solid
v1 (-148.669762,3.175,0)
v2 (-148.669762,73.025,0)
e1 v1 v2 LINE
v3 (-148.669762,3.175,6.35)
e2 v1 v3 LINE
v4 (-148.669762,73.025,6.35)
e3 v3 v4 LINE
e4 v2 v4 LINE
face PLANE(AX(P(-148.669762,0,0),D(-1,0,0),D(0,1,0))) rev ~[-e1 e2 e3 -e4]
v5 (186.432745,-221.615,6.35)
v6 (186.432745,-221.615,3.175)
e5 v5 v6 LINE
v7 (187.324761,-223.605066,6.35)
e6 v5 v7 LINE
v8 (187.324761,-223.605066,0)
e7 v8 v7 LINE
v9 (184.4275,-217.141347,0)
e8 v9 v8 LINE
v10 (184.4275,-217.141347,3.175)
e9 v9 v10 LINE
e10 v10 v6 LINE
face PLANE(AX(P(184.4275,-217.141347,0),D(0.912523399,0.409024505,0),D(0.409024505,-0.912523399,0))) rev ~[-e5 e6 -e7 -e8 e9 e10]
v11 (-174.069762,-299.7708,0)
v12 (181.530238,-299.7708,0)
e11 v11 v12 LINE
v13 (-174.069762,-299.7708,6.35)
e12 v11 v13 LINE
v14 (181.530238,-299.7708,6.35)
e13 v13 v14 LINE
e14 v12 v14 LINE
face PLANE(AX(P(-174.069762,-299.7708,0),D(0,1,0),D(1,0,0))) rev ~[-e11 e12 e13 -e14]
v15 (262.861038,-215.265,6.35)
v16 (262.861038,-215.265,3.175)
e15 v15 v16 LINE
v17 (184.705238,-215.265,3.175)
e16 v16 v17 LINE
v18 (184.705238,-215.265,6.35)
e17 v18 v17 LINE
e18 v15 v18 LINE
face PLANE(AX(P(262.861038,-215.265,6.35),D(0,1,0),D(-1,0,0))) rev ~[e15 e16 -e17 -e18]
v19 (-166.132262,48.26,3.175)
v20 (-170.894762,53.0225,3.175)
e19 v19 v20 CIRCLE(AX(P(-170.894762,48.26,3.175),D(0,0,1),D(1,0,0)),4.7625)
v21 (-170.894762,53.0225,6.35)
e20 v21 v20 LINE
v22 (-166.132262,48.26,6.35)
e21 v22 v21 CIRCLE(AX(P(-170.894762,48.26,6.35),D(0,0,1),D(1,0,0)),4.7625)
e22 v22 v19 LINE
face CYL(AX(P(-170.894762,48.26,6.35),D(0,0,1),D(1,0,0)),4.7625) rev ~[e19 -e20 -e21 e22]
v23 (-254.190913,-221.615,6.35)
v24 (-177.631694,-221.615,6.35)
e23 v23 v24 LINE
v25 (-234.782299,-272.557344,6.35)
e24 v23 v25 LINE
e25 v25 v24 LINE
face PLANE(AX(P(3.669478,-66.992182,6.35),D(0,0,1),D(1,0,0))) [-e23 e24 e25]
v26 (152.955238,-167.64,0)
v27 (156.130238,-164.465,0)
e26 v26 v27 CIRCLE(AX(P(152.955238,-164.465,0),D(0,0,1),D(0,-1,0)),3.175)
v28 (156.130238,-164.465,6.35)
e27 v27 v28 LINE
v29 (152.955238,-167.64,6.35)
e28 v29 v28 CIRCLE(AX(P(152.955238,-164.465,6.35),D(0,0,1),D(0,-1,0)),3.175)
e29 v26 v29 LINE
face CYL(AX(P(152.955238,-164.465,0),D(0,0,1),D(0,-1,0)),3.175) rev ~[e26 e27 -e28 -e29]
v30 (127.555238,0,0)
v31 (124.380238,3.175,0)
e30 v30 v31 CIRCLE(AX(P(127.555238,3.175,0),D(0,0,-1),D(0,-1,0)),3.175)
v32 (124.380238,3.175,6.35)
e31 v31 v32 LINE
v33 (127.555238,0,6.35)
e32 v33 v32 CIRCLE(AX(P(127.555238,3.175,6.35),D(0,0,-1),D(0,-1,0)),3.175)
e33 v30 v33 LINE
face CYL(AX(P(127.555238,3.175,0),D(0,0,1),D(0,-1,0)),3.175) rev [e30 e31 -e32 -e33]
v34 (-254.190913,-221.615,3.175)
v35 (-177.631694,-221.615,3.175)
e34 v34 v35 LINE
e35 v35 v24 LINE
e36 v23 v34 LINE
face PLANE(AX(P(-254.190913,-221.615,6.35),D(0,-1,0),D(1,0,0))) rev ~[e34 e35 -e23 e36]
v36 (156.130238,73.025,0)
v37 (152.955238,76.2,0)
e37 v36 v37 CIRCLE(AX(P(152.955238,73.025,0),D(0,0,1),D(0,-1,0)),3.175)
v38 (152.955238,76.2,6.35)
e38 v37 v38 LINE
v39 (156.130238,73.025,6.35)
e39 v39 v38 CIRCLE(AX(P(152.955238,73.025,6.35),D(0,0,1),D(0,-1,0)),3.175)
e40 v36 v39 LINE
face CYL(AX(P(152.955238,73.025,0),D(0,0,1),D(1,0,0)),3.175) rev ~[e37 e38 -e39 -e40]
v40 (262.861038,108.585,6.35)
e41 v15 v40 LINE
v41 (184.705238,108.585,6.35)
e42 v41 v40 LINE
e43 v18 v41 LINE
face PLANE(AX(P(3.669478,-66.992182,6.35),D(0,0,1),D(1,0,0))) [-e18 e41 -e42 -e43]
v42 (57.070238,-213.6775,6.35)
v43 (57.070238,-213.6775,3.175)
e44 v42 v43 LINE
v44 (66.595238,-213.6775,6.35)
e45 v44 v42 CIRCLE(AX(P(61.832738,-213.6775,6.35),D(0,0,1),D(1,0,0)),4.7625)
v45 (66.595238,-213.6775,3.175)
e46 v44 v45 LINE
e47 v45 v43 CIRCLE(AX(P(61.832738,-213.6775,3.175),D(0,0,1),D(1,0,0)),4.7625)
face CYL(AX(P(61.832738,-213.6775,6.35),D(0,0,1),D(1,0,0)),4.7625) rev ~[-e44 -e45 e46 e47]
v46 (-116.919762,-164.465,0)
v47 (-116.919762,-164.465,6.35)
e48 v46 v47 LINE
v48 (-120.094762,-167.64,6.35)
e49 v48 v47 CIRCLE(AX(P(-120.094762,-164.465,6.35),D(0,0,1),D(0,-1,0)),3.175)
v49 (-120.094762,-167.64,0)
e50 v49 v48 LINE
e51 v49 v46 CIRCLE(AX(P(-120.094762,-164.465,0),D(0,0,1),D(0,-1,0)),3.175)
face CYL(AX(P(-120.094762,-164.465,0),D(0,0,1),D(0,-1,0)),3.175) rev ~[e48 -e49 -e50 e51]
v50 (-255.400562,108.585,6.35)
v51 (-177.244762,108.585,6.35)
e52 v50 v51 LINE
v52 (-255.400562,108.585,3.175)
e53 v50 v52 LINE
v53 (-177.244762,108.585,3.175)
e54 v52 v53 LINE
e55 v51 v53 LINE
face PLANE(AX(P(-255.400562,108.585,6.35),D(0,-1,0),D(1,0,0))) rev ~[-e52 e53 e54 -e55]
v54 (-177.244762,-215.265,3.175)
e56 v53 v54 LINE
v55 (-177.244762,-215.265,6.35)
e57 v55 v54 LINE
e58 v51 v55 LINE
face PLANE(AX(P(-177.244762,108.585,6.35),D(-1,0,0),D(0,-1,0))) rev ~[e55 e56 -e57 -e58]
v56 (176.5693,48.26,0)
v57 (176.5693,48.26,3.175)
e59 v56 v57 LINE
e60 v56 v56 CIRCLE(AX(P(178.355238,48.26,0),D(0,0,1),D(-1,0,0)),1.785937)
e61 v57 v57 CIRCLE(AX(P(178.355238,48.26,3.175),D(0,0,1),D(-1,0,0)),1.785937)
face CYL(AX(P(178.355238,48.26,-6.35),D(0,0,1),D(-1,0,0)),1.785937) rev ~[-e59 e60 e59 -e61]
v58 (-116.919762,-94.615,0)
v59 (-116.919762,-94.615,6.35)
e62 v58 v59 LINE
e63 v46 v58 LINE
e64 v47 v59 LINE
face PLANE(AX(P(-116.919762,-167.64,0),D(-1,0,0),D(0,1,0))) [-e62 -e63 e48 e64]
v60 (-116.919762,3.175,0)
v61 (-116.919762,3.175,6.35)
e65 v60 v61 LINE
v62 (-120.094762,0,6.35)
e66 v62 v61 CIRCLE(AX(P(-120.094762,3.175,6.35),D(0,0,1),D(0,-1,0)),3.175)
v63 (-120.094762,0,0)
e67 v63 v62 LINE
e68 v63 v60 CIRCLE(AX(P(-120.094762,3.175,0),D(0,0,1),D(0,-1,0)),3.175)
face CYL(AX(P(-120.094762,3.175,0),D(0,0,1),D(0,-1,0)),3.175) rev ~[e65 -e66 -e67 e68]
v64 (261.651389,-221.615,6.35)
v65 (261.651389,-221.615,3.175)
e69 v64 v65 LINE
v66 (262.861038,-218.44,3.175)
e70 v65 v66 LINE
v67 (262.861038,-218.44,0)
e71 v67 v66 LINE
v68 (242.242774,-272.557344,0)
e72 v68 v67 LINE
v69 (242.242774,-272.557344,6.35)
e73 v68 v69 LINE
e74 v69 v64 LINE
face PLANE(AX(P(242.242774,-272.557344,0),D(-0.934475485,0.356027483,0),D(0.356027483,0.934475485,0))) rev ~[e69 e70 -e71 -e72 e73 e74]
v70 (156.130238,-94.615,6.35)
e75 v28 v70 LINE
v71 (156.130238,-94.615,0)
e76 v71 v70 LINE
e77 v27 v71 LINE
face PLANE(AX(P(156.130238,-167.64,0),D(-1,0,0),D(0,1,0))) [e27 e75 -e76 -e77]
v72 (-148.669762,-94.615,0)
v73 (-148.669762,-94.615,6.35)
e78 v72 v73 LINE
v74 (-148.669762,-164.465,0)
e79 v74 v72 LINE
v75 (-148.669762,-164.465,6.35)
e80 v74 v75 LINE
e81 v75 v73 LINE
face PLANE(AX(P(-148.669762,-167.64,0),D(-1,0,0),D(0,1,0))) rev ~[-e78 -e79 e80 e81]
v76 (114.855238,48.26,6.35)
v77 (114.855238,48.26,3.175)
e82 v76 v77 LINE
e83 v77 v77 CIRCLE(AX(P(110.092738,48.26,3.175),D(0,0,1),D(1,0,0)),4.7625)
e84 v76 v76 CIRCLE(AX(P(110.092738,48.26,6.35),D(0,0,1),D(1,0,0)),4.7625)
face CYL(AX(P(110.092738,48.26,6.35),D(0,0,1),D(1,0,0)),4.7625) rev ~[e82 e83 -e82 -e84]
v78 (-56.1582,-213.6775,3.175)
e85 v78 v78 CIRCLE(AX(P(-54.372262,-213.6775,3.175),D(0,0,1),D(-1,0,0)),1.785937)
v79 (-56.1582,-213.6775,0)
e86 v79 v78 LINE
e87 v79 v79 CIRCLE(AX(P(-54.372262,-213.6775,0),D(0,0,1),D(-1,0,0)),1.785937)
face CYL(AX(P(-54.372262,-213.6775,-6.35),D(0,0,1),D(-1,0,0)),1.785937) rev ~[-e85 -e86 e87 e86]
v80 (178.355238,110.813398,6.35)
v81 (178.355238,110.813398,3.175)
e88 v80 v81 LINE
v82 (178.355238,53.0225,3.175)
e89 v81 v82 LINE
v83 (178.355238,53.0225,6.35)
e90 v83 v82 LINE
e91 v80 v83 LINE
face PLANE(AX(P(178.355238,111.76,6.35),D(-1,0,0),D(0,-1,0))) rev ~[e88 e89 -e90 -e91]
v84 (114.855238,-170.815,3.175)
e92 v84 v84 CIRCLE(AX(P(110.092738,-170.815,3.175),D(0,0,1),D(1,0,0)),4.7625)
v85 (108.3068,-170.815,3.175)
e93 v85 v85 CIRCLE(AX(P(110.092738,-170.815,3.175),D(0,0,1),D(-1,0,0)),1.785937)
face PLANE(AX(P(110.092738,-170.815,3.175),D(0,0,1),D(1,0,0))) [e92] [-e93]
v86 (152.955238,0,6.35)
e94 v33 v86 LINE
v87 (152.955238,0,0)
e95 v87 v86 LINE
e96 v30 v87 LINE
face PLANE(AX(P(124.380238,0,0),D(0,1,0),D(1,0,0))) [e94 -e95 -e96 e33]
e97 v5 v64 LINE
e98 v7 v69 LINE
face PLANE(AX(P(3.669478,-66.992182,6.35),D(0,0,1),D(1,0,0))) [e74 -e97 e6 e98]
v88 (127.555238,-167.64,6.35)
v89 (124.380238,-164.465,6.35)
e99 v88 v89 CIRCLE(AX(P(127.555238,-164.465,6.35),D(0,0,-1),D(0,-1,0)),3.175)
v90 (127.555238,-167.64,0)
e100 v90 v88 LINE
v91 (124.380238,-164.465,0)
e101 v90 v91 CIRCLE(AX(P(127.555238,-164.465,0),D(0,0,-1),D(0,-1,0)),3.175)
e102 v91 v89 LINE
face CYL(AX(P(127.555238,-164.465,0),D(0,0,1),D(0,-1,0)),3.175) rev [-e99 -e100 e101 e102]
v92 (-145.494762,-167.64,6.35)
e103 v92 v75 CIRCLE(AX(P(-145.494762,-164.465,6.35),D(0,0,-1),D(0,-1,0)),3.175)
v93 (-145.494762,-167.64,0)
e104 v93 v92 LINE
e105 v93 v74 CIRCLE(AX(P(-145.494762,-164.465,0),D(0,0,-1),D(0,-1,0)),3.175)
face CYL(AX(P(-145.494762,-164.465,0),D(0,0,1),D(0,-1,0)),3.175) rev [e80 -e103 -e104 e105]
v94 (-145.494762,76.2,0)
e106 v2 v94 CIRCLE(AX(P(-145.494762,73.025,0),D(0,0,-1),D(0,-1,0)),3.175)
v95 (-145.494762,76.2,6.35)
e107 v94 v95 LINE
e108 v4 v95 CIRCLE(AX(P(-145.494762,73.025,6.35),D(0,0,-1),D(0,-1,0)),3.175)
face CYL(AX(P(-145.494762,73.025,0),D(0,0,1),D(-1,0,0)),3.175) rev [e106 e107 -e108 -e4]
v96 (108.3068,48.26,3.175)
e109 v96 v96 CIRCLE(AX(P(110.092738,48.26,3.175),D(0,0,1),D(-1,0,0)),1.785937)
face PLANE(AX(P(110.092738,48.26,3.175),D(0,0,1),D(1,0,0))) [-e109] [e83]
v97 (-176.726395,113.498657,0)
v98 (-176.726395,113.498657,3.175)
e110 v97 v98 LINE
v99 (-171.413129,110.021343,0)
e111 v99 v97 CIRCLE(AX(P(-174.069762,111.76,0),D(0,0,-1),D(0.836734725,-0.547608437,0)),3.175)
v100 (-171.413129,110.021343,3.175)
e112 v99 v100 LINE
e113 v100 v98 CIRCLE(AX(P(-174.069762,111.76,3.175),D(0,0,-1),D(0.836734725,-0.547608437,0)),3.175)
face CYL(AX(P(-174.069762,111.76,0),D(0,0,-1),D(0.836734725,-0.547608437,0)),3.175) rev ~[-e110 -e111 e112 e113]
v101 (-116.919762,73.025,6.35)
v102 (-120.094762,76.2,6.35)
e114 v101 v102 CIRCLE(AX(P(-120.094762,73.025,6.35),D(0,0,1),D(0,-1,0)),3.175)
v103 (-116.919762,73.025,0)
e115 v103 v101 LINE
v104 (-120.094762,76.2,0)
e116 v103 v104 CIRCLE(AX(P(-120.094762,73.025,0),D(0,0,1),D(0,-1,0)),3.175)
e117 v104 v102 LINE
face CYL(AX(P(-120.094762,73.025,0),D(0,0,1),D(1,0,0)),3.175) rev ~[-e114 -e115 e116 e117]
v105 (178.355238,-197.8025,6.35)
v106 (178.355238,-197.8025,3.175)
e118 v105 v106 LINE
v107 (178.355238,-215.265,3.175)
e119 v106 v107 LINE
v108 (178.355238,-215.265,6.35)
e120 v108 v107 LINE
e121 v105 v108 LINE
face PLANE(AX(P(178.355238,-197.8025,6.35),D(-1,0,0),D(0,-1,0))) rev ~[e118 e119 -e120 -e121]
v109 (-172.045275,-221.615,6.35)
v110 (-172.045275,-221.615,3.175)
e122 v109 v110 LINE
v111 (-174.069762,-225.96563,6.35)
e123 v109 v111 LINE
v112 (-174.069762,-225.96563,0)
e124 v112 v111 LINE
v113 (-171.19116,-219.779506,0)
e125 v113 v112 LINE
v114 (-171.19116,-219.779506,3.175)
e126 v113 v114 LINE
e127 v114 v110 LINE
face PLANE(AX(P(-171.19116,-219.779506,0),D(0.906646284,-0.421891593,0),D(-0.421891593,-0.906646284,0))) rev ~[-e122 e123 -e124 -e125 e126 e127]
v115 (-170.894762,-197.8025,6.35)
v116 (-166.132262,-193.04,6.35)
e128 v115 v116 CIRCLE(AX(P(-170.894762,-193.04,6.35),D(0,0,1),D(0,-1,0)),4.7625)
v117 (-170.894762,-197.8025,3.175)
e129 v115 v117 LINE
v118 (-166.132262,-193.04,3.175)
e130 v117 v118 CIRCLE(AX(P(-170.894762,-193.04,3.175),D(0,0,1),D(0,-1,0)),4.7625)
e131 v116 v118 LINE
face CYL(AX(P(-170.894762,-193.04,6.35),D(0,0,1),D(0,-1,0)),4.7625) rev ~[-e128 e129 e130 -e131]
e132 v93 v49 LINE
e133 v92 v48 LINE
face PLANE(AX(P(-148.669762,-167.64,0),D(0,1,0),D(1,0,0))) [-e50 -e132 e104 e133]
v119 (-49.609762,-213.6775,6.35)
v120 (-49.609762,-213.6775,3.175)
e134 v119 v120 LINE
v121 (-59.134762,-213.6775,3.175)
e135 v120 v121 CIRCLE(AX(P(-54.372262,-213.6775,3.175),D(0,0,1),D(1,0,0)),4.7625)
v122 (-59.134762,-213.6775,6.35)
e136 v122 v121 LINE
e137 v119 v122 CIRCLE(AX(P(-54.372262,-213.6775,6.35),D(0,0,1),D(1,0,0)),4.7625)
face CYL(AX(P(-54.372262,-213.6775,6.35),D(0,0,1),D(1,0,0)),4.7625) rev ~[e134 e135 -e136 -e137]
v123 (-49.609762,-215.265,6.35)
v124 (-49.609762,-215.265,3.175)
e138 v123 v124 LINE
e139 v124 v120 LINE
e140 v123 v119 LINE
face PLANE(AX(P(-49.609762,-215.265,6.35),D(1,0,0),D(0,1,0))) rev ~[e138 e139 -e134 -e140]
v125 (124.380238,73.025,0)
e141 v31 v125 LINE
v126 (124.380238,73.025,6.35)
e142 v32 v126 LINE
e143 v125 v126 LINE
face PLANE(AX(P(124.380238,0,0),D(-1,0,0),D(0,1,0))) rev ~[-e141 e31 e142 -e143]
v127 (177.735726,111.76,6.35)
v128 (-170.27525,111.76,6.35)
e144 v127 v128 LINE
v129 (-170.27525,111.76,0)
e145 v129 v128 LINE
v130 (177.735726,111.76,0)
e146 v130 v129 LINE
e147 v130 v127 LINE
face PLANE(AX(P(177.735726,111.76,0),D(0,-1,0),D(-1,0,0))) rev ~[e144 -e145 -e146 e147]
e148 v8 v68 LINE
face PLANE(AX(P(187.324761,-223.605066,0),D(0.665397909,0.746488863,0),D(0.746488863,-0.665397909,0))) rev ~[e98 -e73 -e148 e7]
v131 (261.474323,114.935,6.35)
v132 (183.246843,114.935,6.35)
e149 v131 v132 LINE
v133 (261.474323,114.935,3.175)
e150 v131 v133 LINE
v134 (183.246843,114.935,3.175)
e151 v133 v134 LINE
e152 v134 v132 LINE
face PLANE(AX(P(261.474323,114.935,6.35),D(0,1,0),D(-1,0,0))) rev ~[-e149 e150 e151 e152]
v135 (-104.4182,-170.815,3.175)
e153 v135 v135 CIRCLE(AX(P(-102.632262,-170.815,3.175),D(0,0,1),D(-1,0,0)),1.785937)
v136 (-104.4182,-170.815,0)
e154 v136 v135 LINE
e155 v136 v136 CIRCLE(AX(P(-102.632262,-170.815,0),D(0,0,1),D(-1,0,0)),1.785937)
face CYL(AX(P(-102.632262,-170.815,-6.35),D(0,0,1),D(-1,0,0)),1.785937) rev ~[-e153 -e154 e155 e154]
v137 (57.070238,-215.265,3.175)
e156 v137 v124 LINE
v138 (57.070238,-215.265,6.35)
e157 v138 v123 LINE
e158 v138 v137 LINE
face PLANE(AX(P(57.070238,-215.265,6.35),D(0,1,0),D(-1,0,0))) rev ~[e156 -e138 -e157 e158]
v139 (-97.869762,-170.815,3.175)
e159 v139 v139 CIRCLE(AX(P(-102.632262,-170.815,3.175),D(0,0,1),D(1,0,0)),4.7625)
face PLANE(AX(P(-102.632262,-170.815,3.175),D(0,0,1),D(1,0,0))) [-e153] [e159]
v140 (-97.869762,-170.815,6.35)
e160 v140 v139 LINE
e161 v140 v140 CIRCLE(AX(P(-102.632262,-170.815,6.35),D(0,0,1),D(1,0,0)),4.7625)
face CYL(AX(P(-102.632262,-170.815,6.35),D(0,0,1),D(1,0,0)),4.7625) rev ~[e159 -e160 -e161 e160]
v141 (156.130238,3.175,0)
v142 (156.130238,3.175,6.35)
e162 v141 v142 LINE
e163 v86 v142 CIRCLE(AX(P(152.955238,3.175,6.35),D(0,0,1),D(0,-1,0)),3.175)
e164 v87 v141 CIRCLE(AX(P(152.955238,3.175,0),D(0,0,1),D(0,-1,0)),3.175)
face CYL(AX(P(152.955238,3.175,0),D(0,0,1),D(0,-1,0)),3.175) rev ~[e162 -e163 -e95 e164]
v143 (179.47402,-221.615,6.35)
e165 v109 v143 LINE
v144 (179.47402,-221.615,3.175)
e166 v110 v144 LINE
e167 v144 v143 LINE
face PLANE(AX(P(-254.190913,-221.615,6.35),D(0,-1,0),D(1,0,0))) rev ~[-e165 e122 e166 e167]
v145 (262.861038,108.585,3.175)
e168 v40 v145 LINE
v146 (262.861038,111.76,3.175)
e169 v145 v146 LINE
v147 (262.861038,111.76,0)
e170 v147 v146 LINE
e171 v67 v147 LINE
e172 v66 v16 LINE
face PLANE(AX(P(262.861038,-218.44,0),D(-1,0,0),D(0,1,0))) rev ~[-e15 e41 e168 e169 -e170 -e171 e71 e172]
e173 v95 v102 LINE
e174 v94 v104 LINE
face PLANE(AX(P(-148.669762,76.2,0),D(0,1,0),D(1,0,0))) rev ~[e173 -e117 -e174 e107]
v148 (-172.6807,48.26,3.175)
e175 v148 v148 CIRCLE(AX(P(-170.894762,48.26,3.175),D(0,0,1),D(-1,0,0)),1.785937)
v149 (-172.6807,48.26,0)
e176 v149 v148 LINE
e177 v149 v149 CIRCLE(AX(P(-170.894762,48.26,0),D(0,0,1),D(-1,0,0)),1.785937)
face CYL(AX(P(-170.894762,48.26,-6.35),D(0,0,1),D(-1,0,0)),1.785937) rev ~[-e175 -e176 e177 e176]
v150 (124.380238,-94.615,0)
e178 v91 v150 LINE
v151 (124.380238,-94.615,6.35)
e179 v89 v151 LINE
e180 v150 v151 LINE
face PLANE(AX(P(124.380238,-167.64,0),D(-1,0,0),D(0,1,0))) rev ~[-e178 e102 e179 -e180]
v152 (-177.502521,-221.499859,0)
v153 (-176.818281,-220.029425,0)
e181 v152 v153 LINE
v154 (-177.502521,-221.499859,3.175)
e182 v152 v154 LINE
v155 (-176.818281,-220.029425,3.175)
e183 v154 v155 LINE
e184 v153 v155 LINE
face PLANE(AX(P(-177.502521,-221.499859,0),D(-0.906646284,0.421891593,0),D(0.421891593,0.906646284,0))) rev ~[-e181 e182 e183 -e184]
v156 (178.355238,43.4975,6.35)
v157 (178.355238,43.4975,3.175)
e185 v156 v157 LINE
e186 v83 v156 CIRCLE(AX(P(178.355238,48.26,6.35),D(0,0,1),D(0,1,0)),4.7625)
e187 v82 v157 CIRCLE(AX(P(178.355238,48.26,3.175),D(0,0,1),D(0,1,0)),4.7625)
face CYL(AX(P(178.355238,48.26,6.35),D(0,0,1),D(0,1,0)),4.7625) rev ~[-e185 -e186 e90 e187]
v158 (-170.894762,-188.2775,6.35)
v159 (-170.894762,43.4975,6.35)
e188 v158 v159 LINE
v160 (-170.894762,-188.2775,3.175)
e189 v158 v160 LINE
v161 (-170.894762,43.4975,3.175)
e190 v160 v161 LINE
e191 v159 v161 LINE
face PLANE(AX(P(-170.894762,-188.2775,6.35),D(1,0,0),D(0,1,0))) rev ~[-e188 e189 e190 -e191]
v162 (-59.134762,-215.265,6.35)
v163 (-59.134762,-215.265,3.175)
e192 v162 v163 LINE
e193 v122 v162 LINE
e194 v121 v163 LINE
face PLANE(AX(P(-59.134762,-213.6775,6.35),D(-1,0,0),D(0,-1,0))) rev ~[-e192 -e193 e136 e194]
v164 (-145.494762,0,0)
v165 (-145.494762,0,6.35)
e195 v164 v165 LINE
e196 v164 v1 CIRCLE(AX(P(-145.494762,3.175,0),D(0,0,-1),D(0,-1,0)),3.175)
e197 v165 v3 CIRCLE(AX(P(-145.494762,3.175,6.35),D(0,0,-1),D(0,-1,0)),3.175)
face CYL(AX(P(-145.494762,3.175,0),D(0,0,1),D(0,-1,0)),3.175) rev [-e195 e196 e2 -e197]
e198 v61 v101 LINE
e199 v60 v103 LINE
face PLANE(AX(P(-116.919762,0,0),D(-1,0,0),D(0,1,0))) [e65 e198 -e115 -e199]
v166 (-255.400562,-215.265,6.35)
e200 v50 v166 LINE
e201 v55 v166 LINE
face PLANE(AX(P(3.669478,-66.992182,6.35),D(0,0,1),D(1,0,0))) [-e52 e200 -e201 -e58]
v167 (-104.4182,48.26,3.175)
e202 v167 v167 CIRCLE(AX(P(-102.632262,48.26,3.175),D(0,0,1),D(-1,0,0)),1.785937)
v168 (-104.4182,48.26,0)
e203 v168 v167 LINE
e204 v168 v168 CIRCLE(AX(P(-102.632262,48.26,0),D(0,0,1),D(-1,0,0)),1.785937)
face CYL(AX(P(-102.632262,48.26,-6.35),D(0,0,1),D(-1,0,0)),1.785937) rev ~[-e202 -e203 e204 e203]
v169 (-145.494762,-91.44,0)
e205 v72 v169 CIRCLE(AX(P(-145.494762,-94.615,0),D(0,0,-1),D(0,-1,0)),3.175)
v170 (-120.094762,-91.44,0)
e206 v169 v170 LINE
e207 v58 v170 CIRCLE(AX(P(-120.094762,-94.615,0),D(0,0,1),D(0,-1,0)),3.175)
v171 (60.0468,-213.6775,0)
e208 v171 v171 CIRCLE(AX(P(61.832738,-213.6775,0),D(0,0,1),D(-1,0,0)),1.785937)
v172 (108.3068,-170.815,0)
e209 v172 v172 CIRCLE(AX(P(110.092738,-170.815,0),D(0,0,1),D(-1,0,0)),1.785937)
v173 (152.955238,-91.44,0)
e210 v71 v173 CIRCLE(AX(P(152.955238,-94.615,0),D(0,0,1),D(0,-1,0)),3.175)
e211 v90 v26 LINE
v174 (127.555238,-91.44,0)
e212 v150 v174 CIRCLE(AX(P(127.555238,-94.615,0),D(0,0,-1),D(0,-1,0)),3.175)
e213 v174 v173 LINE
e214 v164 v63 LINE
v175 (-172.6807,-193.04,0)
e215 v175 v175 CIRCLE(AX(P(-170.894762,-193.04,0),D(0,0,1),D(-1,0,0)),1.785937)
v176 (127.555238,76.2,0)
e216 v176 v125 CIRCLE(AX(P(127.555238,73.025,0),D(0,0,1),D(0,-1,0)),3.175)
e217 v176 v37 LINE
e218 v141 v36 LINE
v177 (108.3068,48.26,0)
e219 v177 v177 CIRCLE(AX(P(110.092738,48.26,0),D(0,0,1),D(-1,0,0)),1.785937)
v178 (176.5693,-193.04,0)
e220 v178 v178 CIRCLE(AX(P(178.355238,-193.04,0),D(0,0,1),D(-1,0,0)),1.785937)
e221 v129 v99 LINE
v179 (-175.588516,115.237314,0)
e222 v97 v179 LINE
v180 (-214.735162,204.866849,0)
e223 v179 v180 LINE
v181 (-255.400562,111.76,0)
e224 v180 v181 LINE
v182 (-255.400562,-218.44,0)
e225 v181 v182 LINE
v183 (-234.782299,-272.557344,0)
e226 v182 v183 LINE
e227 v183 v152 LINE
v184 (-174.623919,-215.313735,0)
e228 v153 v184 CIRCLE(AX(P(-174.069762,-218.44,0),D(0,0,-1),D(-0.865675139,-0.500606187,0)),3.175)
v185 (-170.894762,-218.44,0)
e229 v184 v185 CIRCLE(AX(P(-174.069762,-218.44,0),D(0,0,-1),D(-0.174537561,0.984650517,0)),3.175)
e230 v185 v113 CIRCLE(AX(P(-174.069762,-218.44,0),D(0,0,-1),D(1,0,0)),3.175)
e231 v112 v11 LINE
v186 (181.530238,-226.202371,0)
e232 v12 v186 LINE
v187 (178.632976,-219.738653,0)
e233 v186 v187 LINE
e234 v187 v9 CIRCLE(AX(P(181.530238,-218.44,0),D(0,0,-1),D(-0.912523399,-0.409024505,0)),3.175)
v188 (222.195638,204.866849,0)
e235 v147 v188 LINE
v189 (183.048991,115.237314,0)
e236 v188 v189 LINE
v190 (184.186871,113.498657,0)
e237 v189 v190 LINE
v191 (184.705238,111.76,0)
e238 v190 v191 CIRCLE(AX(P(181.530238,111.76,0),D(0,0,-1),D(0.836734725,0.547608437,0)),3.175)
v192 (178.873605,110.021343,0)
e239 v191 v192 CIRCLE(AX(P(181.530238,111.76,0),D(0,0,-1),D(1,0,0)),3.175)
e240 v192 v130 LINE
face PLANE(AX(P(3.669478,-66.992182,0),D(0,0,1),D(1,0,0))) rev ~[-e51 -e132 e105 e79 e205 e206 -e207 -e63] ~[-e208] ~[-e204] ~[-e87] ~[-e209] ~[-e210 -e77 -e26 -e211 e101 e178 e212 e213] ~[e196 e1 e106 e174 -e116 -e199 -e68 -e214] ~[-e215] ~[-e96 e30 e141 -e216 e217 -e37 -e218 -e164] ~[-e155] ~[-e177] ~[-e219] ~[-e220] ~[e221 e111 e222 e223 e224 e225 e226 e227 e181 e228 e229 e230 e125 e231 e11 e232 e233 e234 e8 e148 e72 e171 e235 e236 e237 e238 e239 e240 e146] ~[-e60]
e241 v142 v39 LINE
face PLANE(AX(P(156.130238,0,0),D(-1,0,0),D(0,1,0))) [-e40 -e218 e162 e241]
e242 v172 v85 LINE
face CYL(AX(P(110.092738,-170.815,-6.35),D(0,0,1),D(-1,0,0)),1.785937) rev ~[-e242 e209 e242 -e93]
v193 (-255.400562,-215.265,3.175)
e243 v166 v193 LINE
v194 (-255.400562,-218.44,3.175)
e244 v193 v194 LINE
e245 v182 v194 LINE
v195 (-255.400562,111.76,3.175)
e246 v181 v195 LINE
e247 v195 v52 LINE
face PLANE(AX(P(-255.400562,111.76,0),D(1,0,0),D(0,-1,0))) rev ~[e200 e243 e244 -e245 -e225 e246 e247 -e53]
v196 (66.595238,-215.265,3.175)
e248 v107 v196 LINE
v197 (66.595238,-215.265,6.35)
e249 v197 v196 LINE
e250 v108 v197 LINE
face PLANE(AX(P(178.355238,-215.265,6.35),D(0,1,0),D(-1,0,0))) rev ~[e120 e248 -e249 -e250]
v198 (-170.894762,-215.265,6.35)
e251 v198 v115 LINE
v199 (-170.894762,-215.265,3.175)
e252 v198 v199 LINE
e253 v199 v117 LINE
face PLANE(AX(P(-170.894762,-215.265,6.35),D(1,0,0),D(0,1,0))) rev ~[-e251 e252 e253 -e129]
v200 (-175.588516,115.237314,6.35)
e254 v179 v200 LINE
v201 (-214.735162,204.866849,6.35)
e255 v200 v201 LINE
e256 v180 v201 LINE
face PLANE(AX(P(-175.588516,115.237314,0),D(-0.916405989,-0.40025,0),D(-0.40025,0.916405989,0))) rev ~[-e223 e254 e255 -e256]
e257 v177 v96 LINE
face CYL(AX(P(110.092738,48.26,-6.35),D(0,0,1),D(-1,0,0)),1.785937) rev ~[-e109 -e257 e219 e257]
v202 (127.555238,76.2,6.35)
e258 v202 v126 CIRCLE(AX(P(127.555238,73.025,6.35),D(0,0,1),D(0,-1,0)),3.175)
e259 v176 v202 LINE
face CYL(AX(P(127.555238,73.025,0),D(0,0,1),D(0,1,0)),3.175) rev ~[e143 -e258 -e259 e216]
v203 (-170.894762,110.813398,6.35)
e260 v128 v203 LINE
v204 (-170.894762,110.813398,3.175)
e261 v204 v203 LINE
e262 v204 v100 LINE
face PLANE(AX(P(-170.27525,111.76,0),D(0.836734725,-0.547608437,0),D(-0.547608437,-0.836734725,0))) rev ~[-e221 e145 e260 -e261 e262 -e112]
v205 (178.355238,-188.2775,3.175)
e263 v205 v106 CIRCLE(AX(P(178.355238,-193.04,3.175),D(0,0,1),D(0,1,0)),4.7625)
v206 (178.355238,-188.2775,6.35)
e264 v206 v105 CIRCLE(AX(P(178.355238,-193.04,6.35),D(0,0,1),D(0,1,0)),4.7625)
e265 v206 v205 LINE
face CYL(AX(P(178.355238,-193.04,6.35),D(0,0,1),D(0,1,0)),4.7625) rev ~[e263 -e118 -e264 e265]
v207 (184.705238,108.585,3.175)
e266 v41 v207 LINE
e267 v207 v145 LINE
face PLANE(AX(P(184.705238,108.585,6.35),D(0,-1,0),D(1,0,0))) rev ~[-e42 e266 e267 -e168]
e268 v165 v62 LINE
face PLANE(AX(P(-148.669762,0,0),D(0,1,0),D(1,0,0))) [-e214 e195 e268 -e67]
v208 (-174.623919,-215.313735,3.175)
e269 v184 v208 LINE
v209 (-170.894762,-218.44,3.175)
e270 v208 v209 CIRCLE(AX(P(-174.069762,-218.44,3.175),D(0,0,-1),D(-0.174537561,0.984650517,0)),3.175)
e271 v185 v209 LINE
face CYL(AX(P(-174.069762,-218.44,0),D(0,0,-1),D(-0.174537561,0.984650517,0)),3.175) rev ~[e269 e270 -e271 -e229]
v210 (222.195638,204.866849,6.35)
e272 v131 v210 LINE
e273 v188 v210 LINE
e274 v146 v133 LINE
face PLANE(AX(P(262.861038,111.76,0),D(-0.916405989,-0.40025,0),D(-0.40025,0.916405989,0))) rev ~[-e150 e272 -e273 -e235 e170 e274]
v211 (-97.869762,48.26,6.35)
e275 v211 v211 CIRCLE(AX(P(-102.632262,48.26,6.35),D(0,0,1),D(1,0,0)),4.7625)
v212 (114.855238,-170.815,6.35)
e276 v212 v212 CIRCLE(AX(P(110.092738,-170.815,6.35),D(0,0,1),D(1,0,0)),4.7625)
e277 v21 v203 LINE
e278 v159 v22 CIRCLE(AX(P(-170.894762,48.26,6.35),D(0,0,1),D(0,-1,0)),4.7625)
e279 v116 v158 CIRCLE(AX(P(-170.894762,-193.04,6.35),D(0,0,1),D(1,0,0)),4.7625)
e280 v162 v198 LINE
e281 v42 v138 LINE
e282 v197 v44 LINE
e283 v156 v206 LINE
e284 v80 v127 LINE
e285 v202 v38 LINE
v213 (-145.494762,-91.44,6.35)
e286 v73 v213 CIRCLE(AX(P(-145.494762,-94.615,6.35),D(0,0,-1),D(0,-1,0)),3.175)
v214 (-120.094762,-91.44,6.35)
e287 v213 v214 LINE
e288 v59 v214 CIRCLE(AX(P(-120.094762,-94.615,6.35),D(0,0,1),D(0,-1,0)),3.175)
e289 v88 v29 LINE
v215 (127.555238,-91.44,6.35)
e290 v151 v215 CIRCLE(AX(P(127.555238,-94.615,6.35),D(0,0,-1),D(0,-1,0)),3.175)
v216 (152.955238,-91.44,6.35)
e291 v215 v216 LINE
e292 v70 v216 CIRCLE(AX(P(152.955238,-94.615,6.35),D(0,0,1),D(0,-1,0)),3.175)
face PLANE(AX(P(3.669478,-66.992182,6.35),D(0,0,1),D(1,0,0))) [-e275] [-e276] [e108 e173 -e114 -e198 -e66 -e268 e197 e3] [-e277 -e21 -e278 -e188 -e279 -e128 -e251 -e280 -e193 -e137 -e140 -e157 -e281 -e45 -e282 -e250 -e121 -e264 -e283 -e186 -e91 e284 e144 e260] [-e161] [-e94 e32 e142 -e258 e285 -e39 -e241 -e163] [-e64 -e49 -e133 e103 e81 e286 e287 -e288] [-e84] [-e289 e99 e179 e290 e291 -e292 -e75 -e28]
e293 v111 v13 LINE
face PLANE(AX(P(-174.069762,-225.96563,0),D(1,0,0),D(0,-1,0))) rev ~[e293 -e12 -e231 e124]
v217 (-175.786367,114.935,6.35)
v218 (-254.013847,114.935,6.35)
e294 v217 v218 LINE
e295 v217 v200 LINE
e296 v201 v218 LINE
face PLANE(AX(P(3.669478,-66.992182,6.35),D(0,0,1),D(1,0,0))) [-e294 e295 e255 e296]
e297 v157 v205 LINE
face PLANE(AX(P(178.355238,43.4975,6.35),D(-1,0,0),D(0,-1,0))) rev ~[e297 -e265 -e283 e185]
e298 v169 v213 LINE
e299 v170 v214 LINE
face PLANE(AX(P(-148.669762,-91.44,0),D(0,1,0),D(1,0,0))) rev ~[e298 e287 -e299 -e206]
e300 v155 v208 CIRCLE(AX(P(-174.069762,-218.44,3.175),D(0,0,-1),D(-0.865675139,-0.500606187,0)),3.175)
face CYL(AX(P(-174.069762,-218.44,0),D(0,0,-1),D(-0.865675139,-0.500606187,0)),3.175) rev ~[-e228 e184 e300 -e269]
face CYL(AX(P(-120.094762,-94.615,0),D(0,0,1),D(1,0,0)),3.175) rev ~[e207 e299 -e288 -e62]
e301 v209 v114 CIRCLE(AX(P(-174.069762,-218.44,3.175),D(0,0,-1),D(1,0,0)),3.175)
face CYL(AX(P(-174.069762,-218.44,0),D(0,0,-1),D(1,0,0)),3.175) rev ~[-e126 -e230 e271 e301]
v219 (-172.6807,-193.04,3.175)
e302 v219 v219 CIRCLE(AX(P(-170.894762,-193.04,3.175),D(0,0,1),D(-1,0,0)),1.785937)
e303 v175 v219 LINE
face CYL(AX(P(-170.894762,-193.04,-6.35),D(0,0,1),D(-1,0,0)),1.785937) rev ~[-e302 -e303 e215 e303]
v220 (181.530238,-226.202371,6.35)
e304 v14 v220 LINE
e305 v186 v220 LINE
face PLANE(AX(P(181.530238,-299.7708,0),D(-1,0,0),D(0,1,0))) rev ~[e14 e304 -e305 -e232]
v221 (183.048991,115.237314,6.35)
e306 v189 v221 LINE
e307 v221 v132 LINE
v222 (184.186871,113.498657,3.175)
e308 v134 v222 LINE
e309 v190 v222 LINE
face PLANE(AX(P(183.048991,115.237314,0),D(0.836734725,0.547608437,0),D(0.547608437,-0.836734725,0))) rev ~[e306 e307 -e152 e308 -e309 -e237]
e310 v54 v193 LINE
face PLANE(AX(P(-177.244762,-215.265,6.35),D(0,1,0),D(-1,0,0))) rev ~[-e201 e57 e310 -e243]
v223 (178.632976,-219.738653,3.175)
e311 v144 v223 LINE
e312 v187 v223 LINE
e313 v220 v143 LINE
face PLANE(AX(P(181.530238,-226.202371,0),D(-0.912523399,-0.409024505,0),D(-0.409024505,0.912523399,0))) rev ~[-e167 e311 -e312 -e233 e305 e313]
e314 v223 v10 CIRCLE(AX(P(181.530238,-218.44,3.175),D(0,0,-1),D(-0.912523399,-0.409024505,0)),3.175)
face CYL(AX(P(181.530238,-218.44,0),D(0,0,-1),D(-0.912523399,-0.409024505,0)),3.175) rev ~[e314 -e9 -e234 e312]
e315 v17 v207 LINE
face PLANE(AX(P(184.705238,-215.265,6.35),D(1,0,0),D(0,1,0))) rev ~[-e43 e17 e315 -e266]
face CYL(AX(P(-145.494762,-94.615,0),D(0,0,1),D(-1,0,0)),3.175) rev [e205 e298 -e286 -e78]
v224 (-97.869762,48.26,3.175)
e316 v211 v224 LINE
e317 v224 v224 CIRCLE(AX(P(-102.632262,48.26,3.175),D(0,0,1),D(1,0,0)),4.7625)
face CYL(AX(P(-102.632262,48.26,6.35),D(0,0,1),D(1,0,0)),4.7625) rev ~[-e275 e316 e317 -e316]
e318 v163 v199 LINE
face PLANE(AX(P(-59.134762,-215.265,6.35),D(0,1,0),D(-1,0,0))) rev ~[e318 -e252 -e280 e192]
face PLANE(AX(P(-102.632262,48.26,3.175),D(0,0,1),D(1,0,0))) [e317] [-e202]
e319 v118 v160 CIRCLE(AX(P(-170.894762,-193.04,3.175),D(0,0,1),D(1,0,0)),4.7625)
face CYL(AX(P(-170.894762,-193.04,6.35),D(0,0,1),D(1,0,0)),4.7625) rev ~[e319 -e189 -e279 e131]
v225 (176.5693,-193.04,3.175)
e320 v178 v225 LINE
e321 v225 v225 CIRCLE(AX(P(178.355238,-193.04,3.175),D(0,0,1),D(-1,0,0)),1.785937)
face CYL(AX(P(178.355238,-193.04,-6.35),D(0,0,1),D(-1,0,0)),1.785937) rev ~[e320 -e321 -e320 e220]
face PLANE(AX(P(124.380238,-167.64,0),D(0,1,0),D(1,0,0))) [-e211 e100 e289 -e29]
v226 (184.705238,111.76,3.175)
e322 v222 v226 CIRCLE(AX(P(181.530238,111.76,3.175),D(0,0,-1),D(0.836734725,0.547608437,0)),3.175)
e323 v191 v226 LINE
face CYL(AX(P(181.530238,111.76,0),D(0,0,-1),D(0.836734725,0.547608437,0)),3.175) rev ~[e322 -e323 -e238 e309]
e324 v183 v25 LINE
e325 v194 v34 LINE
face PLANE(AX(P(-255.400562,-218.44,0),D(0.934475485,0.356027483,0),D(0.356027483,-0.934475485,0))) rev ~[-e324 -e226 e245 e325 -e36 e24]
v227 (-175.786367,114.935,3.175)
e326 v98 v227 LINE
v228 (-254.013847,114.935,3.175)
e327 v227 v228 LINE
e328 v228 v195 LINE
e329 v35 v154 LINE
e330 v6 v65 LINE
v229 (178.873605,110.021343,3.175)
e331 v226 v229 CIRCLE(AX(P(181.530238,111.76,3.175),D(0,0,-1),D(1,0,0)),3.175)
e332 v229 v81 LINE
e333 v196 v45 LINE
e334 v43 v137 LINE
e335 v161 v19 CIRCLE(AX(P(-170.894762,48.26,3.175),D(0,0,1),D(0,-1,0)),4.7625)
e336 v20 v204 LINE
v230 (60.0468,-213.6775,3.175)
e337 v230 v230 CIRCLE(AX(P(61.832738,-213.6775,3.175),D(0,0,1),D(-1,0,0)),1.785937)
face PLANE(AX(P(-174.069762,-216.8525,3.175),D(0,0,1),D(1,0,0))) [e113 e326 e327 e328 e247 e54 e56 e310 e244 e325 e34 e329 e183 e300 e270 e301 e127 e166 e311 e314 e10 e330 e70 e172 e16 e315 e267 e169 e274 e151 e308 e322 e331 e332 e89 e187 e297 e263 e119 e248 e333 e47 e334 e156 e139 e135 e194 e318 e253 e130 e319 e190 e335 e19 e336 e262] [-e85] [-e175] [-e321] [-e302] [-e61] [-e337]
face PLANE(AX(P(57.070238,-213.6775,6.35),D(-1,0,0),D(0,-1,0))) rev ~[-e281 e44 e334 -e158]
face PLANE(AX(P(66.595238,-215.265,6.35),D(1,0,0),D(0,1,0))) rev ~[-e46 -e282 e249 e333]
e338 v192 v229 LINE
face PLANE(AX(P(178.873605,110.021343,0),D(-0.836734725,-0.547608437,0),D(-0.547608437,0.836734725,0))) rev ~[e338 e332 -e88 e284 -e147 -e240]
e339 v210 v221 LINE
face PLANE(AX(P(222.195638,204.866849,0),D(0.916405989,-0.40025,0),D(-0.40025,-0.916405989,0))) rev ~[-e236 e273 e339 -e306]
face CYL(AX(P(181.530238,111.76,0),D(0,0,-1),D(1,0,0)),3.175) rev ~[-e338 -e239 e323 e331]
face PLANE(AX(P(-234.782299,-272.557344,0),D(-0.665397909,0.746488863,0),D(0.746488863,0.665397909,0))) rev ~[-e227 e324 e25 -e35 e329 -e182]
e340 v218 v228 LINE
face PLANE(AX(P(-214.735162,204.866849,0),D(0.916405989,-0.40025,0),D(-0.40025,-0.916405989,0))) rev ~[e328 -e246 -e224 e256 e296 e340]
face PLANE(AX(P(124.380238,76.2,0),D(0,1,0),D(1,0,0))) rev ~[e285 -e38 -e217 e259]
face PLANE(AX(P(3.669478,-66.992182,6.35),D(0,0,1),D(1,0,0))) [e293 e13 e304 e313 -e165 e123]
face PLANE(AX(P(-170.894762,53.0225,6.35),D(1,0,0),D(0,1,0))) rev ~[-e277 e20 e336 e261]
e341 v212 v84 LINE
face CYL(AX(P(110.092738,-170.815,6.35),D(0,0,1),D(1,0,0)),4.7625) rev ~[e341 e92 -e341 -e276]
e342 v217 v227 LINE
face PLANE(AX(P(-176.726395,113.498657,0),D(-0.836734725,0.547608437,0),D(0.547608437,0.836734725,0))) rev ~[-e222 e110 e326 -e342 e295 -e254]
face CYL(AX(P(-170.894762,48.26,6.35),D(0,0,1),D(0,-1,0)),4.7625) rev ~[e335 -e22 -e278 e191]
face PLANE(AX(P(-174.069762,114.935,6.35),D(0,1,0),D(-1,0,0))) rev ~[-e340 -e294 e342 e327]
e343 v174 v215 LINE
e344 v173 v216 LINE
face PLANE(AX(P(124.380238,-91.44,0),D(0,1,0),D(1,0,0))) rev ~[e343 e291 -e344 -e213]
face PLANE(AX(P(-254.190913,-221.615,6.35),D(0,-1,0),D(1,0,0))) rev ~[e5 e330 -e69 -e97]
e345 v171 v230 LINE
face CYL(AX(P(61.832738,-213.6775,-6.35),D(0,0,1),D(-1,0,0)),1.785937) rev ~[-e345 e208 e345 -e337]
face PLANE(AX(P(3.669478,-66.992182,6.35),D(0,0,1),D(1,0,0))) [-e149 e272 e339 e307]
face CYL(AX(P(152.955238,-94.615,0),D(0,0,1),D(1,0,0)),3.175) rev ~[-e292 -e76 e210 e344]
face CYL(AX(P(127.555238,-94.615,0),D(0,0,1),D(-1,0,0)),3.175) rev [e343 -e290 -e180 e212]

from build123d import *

# Parameters (mm, degrees)
F0_W     = 31.75
F0_H     = 76.2
F1_DEPTH = 6.35
F2_R     = 3.175
F3_D     = 3.571875
F3_DEPTH = 6.35
F3_TIP   = 1.0730995118
F4_D     = 3.571875
F4_DEPTH = 6.35
F4_TIP   = 1.0730995118
F5_D     = 3.571875
F5_DEPTH = 6.35
F5_TIP   = 1.0730995118
F6_D     = 3.571875
F6_DEPTH = 6.35
F6_TIP   = 1.0730995118
F8_W     = 6.35
F8_H     = 3.175
F8_W_2   = 3.175
F8_R     = 4.7625
F9_DEPTH = 3.175


with BuildPart() as f1:
    # F0 (on Top) → F1 (new body)
    with BuildSketch(Plane.XY):
        with BuildLine():
            Line((-214.7351622299, 204.8668485281), (-255.4005622299, 111.76))
            Line((-255.4005622299, 111.76), (-255.4005622299, -218.44))
            Line((-255.4005622299, -218.44), (-234.7822986447, -272.557344269))
            Line((-234.7822986447, -272.557344269), (-177.5025209361, -221.4998587321))
            Line((-177.5025209361, -221.4998587321), (-176.8182807956, -220.0294246425))
            ThreePointArc((-176.8182807956, -220.0294246425), (-176.9483641806, -217.1004941921), (-174.6239189854, -215.3137346097))
            ThreePointArc((-174.6239189854, -215.3137346097), (-172.0300101247, -216.0068875181), (-170.8947622299, -218.44))
            ThreePointArc((-170.8947622299, -218.44), (-170.9697472144, -219.1259532807), (-171.1911602792, -219.7795058079))
            Line((-171.1911602792, -219.7795058079), (-174.0697622299, -225.9656299303))
            Line((-174.0697622299, -225.9656299303), (-174.0697622299, -299.7708))
            Line((-174.0697622299, -299.7708), (181.5302377701, -299.7708))
            Line((181.5302377701, -299.7708), (181.5302377701, -226.2023711139))
            Line((181.5302377701, -226.2023711139), (178.6329759768, -219.7386528024))
            ThreePointArc((178.6329759768, -219.7386528024), (180.2315849677, -215.5427382067), (184.4274995634, -217.1413471976))
            Line((184.4274995634, -217.1413471976), (187.3247613567, -223.6050655092))
            Line((187.3247613567, -223.6050655092), (242.2427741848, -272.557344269))
            Line((242.2427741848, -272.557344269), (262.8610377701, -218.44))
            Line((262.8610377701, -218.44), (262.8610377701, 111.76))
            Line((262.8610377701, 111.76), (222.1956377701, 204.8668485281))
            Line((222.1956377701, 204.8668485281), (183.0489912197, 115.2373135734))
            Line((183.0489912197, 115.2373135734), (184.1868705219, 113.4986567867))
            ThreePointArc((184.1868705219, 113.4986567867), (184.5728874367, 112.6671427707), (184.7052377701, 111.76))
            ThreePointArc((184.7052377701, 111.76), (182.4373805408, 108.7173503334), (178.8736050182, 110.0213432133))
            Line((178.8736050182, 110.0213432133), (177.735725716, 111.76))
            Line((177.735725716, 111.76), (-170.2752501759, 111.76))
            Line((-170.2752501759, 111.76), (-171.4131294781, 110.0213432133))
            ThreePointArc((-171.4131294781, 110.0213432133), (-175.8084190166, 109.1033672482), (-176.7263949818, 113.4986567867))
            Line((-176.7263949818, 113.4986567867), (-175.5885156795, 115.2373135734))
            Line((-175.5885156795, 115.2373135734), (-214.7351622299, 204.8668485281))
        make_face()
        with Locations((-132.7947622299, -129.54)):
            Rectangle(F0_W, F0_H, mode=Mode.SUBTRACT)
        with Locations((140.2552377701, -129.54)):
            Rectangle(F0_W, F0_H, mode=Mode.SUBTRACT)
        with Locations((-132.7947622299, 38.1)):
            Rectangle(F0_W, F0_H, mode=Mode.SUBTRACT)
        with Locations((140.2552377701, 38.1)):
            Rectangle(F0_W, F0_H, mode=Mode.SUBTRACT)
    extrude(amount=F1_DEPTH)

    # F2
    f2_edges = [f1.edges().sort_by_distance(p)[0] for p in [
        (156.130238, 76.2, 3.175),
        (124.380238, 76.2, 3.175),
        (124.380238, 0, 3.175),
        (156.130238, 0, 3.175),
        (156.130238, -167.64, 3.175),
        (124.380238, -167.64, 3.175),
        (124.380238, -91.44, 3.175),
        (156.130238, -91.44, 3.175),
        (-116.919762, -91.44, 3.175),
        (-116.919762, -167.64, 3.175),
        (-116.919762, 0, 3.175),
        (-148.669762, -167.64, 3.175),
        (-148.669762, 0, 3.175),
        (-148.669762, -91.44, 3.175),
        (-148.669762, 76.2, 3.175),
        (-116.919762, 76.2, 3.175),
    ]]
    fillet(f2_edges, radius=F2_R)

    # F3
    with Locations(Plane(origin=(0, 0, 0), x_dir=(1, 0, 0), z_dir=(0, 0, -1))):
        with Locations((178.3552377701, -48.26)):
            Hole(F3_D / 2, depth=F3_DEPTH)
            with Locations((0, 0, -(F3_DEPTH + F3_TIP / 2))):  # 118° drill point
                Cone(0, F3_D / 2, F3_TIP, mode=Mode.SUBTRACT)

    # F4
    with Locations(Plane(origin=(0, 0, 0), x_dir=(1, 0, 0), z_dir=(0, 0, -1))):
        with Locations((178.3552377701, 193.04)):
            Hole(F4_D / 2, depth=F4_DEPTH)
            with Locations((0, 0, -(F4_DEPTH + F4_TIP / 2))):  # 118° drill point
                Cone(0, F4_D / 2, F4_TIP, mode=Mode.SUBTRACT)

    # F5
    with Locations(Plane(origin=(0, 0, 0), x_dir=(1, 0, 0), z_dir=(0, 0, -1))):
        with Locations((-170.8947622299, 193.04)):
            Hole(F5_D / 2, depth=F5_DEPTH)
            with Locations((0, 0, -(F5_DEPTH + F5_TIP / 2))):  # 118° drill point
                Cone(0, F5_D / 2, F5_TIP, mode=Mode.SUBTRACT)

    # F6
    with Locations(Plane(origin=(0, 0, 0), x_dir=(1, 0, 0), z_dir=(0, 0, -1))):
        with Locations((-170.8947622299, -48.26), (-102.6322622299, -48.26), (110.0927377701, -48.26), (110.0927377701, 170.815), (-102.6322622299, 170.815), (-54.3722622299, 213.6775), (61.8327377701, 213.6775)):
            Hole(F6_D / 2, depth=F6_DEPTH)
            with Locations((0, 0, -(F6_DEPTH + F6_TIP / 2))):  # 118° drill point
                Cone(0, F6_D / 2, F6_TIP, mode=Mode.SUBTRACT)

    # F8 (on face) → F9 (cut)
    with BuildSketch(Plane.XY.offset(6.35)):
        with Locations((-174.0697622299, -216.8525)):
            Rectangle(F8_W, F8_H)
        Polygon((-170.8947622299, -215.265), (-170.8947622299, -218.44), (-177.2447622299, -218.44), (-177.2447622299, -215.265), (-255.4005622299, -215.265), (-255.4005622299, -218.44), (-254.190913313, -221.615), (261.6513888531, -221.615), (262.8610377701, -218.44), (262.8610377701, -215.265), (184.7052377701, -215.265), (184.7052377701, -218.44), (178.3552377701, -218.44), (178.3552377701, -215.265), (66.5952377701, -215.265), (66.3228658306, -215.265), (57.3426097095, -215.265), (57.0702377701, -215.265), (-49.6097622299, -215.265), (-49.8821341694, -215.265), (-58.8623902905, -215.265), (-59.1347622299, -215.265), align=None)
        with BuildLine():
            Line((-177.2447622299, -215.265), (-170.8947622299, -215.265))
            Line((-170.8947622299, -215.265), (-170.8947622299, -197.8025))
            ThreePointArc((-170.8947622299, -197.8025), (-175.6572622299, -193.04), (-170.8947622299, -188.2775))
            Line((-170.8947622299, -188.2775), (-170.8947622299, 43.4975))
            ThreePointArc((-170.8947622299, 43.4975), (-175.6572622299, 48.26), (-170.8947622299, 53.0225))
            Line((-170.8947622299, 53.0225), (-170.8947622299, 111.76))
            Line((-170.8947622299, 111.76), (-174.0697622299, 111.76))
            Line((-174.0697622299, 111.76), (-174.0697622299, 108.585))
            Line((-174.0697622299, 108.585), (-177.2447622299, 108.585))
            Line((-177.2447622299, 108.585), (-177.2447622299, -215.265))
        make_face()
        with BuildLine():
            ThreePointArc((-170.8947622299, -188.2775), (-175.6572622299, -193.04), (-170.8947622299, -197.8025))
            Line((-170.8947622299, -197.8025), (-170.8947622299, -188.2775))
        make_face()
        with BuildLine():
            Line((-170.8947622299, -188.2775), (-170.8947622299, -197.8025))
            ThreePointArc((-170.8947622299, -197.8025), (-167.5271661845, -196.4075960454), (-166.1322622299, -193.04))
            ThreePointArc((-166.1322622299, -193.04), (-167.5271661845, -189.6724039546), (-170.8947622299, -188.2775))
        make_face()
        with BuildLine():
            Line((-59.1347622299, -213.6775), (-59.1347622299, -215.265))
            Line((-59.1347622299, -215.265), (-58.8623902905, -215.265))
            ThreePointArc((-58.8623902905, -215.265), (-59.0661753703, -214.4828481737), (-59.1347622299, -213.6775))
        make_face()
        Polygon((-255.4005622299, 108.585), (-177.2447622299, 108.585), (-177.2447622299, 111.76), (-174.0697622299, 111.76), (-174.0697622299, 114.935), (-254.0138474282, 114.935), (-255.4005622299, 111.76), align=None)
        with Locations((-175.6572622299, 110.1725)):
            Rectangle(F8_W_2, F8_H)
        with BuildLine():
            ThreePointArc((-59.1347622299, -213.6775), (-59.0661753703, -214.4828481737), (-58.8623902905, -215.265))
            Line((-58.8623902905, -215.265), (-49.8821341694, -215.265))
            ThreePointArc((-49.8821341694, -215.265), (-49.6783490896, -214.4828481737), (-49.6097622299, -213.6775))
            ThreePointArc((-49.6097622299, -213.6775), (-54.3722622299, -208.915), (-59.1347622299, -213.6775))
        make_face()
        with BuildLine():
            ThreePointArc((-170.8947622299, 53.0225), (-175.6572622299, 48.26), (-170.8947622299, 43.4975))
            Line((-170.8947622299, 43.4975), (-170.8947622299, 53.0225))
        make_face()
        with BuildLine():
            Line((-170.8947622299, 53.0225), (-170.8947622299, 43.4975))
            ThreePointArc((-170.8947622299, 43.4975), (-167.5271661845, 44.8924039546), (-166.1322622299, 48.26))
            ThreePointArc((-166.1322622299, 48.26), (-167.5271661845, 51.6275960454), (-170.8947622299, 53.0225))
        make_face()
        with BuildLine():
            ThreePointArc((-49.6097622299, -213.6775), (-49.6783490896, -214.4828481737), (-49.8821341694, -215.265))
            Line((-49.8821341694, -215.265), (-49.6097622299, -215.265))
            Line((-49.6097622299, -215.265), (-49.6097622299, -213.6775))
        make_face()
        with BuildLine():
            Line((57.0702377701, -213.6775), (57.0702377701, -215.265))
            Line((57.0702377701, -215.265), (57.3426097095, -215.265))
            ThreePointArc((57.3426097095, -215.265), (57.1388246297, -214.4828481737), (57.0702377701, -213.6775))
        make_face()
        with BuildLine():
            ThreePointArc((57.0702377701, -213.6775), (57.1388246297, -214.4828481737), (57.3426097095, -215.265))
            Line((57.3426097095, -215.265), (66.3228658306, -215.265))
            ThreePointArc((66.3228658306, -215.265), (66.5266509104, -214.4828481737), (66.5952377701, -213.6775))
            ThreePointArc((66.5952377701, -213.6775), (61.8327377701, -208.915), (57.0702377701, -213.6775))
        make_face()
        with BuildLine():
            ThreePointArc((66.5952377701, -213.6775), (66.5266509104, -214.4828481737), (66.3228658306, -215.265))
            Line((66.3228658306, -215.265), (66.5952377701, -215.265))
            Line((66.5952377701, -215.265), (66.5952377701, -213.6775))
        make_face()
        with Locations((181.5302377701, -216.8525)):
            Rectangle(F8_W, F8_H)
        with BuildLine():
            Line((178.3552377701, -215.265), (184.7052377701, -215.265))
            Line((184.7052377701, -215.265), (184.7052377701, 108.585))
            Line((184.7052377701, 108.585), (181.5302377701, 108.585))
            Line((181.5302377701, 108.585), (181.5302377701, 111.76))
            Line((181.5302377701, 111.76), (178.3552377701, 111.76))
            Line((178.3552377701, 111.76), (178.3552377701, 53.0225))
            ThreePointArc((178.3552377701, 53.0225), (181.7228338155, 51.6275960454), (183.1177377701, 48.26))
            ThreePointArc((183.1177377701, 48.26), (181.7228338155, 44.8924039546), (178.3552377701, 43.4975))
            Line((178.3552377701, 43.4975), (178.3552377701, -188.2775))
            ThreePointArc((178.3552377701, -188.2775), (181.7228338155, -189.6724039546), (183.1177377701, -193.04))
            ThreePointArc((183.1177377701, -193.04), (181.7228338155, -196.4075960454), (178.3552377701, -197.8025))
            Line((178.3552377701, -197.8025), (178.3552377701, -215.265))
        make_face()
        with Locations((183.1177377701, 110.1725)):
            Rectangle(F8_W_2, F8_H)
        Polygon((184.7052377701, 111.76), (184.7052377701, 108.585), (262.8610377701, 108.585), (262.8610377701, 111.76), (261.4743229683, 114.935), (181.5302377701, 114.935), (181.5302377701, 111.76), align=None)
        with BuildLine():
            ThreePointArc((178.3552377701, -188.2775), (173.5927377701, -193.04), (178.3552377701, -197.8025))
            Line((178.3552377701, -197.8025), (178.3552377701, -188.2775))
        make_face()
        with BuildLine():
            Line((178.3552377701, -188.2775), (178.3552377701, -197.8025))
            ThreePointArc((178.3552377701, -197.8025), (181.7228338155, -196.4075960454), (183.1177377701, -193.04))
            ThreePointArc((183.1177377701, -193.04), (181.7228338155, -189.6724039546), (178.3552377701, -188.2775))
        make_face()
        with BuildLine():
            ThreePointArc((178.3552377701, 53.0225), (173.5927377701, 48.26), (178.3552377701, 43.4975))
            Line((178.3552377701, 43.4975), (178.3552377701, 53.0225))
        make_face()
        with BuildLine():
            Line((178.3552377701, 53.0225), (178.3552377701, 43.4975))
            ThreePointArc((178.3552377701, 43.4975), (181.7228338155, 44.8924039546), (183.1177377701, 48.26))
            ThreePointArc((183.1177377701, 48.26), (181.7228338155, 51.6275960454), (178.3552377701, 53.0225))
        make_face()
        with Locations((-102.6322622299, -170.815)):
            Circle(F8_R)
        with Locations((-102.6322622299, 48.26)):
            Circle(F8_R)
        with Locations((110.0927377701, -170.815)):
            Circle(F8_R)
        with Locations((110.0927377701, 48.26)):
            Circle(F8_R)
    extrude(amount=-F9_DEPTH, mode=Mode.SUBTRACT)


solid = f1.part
